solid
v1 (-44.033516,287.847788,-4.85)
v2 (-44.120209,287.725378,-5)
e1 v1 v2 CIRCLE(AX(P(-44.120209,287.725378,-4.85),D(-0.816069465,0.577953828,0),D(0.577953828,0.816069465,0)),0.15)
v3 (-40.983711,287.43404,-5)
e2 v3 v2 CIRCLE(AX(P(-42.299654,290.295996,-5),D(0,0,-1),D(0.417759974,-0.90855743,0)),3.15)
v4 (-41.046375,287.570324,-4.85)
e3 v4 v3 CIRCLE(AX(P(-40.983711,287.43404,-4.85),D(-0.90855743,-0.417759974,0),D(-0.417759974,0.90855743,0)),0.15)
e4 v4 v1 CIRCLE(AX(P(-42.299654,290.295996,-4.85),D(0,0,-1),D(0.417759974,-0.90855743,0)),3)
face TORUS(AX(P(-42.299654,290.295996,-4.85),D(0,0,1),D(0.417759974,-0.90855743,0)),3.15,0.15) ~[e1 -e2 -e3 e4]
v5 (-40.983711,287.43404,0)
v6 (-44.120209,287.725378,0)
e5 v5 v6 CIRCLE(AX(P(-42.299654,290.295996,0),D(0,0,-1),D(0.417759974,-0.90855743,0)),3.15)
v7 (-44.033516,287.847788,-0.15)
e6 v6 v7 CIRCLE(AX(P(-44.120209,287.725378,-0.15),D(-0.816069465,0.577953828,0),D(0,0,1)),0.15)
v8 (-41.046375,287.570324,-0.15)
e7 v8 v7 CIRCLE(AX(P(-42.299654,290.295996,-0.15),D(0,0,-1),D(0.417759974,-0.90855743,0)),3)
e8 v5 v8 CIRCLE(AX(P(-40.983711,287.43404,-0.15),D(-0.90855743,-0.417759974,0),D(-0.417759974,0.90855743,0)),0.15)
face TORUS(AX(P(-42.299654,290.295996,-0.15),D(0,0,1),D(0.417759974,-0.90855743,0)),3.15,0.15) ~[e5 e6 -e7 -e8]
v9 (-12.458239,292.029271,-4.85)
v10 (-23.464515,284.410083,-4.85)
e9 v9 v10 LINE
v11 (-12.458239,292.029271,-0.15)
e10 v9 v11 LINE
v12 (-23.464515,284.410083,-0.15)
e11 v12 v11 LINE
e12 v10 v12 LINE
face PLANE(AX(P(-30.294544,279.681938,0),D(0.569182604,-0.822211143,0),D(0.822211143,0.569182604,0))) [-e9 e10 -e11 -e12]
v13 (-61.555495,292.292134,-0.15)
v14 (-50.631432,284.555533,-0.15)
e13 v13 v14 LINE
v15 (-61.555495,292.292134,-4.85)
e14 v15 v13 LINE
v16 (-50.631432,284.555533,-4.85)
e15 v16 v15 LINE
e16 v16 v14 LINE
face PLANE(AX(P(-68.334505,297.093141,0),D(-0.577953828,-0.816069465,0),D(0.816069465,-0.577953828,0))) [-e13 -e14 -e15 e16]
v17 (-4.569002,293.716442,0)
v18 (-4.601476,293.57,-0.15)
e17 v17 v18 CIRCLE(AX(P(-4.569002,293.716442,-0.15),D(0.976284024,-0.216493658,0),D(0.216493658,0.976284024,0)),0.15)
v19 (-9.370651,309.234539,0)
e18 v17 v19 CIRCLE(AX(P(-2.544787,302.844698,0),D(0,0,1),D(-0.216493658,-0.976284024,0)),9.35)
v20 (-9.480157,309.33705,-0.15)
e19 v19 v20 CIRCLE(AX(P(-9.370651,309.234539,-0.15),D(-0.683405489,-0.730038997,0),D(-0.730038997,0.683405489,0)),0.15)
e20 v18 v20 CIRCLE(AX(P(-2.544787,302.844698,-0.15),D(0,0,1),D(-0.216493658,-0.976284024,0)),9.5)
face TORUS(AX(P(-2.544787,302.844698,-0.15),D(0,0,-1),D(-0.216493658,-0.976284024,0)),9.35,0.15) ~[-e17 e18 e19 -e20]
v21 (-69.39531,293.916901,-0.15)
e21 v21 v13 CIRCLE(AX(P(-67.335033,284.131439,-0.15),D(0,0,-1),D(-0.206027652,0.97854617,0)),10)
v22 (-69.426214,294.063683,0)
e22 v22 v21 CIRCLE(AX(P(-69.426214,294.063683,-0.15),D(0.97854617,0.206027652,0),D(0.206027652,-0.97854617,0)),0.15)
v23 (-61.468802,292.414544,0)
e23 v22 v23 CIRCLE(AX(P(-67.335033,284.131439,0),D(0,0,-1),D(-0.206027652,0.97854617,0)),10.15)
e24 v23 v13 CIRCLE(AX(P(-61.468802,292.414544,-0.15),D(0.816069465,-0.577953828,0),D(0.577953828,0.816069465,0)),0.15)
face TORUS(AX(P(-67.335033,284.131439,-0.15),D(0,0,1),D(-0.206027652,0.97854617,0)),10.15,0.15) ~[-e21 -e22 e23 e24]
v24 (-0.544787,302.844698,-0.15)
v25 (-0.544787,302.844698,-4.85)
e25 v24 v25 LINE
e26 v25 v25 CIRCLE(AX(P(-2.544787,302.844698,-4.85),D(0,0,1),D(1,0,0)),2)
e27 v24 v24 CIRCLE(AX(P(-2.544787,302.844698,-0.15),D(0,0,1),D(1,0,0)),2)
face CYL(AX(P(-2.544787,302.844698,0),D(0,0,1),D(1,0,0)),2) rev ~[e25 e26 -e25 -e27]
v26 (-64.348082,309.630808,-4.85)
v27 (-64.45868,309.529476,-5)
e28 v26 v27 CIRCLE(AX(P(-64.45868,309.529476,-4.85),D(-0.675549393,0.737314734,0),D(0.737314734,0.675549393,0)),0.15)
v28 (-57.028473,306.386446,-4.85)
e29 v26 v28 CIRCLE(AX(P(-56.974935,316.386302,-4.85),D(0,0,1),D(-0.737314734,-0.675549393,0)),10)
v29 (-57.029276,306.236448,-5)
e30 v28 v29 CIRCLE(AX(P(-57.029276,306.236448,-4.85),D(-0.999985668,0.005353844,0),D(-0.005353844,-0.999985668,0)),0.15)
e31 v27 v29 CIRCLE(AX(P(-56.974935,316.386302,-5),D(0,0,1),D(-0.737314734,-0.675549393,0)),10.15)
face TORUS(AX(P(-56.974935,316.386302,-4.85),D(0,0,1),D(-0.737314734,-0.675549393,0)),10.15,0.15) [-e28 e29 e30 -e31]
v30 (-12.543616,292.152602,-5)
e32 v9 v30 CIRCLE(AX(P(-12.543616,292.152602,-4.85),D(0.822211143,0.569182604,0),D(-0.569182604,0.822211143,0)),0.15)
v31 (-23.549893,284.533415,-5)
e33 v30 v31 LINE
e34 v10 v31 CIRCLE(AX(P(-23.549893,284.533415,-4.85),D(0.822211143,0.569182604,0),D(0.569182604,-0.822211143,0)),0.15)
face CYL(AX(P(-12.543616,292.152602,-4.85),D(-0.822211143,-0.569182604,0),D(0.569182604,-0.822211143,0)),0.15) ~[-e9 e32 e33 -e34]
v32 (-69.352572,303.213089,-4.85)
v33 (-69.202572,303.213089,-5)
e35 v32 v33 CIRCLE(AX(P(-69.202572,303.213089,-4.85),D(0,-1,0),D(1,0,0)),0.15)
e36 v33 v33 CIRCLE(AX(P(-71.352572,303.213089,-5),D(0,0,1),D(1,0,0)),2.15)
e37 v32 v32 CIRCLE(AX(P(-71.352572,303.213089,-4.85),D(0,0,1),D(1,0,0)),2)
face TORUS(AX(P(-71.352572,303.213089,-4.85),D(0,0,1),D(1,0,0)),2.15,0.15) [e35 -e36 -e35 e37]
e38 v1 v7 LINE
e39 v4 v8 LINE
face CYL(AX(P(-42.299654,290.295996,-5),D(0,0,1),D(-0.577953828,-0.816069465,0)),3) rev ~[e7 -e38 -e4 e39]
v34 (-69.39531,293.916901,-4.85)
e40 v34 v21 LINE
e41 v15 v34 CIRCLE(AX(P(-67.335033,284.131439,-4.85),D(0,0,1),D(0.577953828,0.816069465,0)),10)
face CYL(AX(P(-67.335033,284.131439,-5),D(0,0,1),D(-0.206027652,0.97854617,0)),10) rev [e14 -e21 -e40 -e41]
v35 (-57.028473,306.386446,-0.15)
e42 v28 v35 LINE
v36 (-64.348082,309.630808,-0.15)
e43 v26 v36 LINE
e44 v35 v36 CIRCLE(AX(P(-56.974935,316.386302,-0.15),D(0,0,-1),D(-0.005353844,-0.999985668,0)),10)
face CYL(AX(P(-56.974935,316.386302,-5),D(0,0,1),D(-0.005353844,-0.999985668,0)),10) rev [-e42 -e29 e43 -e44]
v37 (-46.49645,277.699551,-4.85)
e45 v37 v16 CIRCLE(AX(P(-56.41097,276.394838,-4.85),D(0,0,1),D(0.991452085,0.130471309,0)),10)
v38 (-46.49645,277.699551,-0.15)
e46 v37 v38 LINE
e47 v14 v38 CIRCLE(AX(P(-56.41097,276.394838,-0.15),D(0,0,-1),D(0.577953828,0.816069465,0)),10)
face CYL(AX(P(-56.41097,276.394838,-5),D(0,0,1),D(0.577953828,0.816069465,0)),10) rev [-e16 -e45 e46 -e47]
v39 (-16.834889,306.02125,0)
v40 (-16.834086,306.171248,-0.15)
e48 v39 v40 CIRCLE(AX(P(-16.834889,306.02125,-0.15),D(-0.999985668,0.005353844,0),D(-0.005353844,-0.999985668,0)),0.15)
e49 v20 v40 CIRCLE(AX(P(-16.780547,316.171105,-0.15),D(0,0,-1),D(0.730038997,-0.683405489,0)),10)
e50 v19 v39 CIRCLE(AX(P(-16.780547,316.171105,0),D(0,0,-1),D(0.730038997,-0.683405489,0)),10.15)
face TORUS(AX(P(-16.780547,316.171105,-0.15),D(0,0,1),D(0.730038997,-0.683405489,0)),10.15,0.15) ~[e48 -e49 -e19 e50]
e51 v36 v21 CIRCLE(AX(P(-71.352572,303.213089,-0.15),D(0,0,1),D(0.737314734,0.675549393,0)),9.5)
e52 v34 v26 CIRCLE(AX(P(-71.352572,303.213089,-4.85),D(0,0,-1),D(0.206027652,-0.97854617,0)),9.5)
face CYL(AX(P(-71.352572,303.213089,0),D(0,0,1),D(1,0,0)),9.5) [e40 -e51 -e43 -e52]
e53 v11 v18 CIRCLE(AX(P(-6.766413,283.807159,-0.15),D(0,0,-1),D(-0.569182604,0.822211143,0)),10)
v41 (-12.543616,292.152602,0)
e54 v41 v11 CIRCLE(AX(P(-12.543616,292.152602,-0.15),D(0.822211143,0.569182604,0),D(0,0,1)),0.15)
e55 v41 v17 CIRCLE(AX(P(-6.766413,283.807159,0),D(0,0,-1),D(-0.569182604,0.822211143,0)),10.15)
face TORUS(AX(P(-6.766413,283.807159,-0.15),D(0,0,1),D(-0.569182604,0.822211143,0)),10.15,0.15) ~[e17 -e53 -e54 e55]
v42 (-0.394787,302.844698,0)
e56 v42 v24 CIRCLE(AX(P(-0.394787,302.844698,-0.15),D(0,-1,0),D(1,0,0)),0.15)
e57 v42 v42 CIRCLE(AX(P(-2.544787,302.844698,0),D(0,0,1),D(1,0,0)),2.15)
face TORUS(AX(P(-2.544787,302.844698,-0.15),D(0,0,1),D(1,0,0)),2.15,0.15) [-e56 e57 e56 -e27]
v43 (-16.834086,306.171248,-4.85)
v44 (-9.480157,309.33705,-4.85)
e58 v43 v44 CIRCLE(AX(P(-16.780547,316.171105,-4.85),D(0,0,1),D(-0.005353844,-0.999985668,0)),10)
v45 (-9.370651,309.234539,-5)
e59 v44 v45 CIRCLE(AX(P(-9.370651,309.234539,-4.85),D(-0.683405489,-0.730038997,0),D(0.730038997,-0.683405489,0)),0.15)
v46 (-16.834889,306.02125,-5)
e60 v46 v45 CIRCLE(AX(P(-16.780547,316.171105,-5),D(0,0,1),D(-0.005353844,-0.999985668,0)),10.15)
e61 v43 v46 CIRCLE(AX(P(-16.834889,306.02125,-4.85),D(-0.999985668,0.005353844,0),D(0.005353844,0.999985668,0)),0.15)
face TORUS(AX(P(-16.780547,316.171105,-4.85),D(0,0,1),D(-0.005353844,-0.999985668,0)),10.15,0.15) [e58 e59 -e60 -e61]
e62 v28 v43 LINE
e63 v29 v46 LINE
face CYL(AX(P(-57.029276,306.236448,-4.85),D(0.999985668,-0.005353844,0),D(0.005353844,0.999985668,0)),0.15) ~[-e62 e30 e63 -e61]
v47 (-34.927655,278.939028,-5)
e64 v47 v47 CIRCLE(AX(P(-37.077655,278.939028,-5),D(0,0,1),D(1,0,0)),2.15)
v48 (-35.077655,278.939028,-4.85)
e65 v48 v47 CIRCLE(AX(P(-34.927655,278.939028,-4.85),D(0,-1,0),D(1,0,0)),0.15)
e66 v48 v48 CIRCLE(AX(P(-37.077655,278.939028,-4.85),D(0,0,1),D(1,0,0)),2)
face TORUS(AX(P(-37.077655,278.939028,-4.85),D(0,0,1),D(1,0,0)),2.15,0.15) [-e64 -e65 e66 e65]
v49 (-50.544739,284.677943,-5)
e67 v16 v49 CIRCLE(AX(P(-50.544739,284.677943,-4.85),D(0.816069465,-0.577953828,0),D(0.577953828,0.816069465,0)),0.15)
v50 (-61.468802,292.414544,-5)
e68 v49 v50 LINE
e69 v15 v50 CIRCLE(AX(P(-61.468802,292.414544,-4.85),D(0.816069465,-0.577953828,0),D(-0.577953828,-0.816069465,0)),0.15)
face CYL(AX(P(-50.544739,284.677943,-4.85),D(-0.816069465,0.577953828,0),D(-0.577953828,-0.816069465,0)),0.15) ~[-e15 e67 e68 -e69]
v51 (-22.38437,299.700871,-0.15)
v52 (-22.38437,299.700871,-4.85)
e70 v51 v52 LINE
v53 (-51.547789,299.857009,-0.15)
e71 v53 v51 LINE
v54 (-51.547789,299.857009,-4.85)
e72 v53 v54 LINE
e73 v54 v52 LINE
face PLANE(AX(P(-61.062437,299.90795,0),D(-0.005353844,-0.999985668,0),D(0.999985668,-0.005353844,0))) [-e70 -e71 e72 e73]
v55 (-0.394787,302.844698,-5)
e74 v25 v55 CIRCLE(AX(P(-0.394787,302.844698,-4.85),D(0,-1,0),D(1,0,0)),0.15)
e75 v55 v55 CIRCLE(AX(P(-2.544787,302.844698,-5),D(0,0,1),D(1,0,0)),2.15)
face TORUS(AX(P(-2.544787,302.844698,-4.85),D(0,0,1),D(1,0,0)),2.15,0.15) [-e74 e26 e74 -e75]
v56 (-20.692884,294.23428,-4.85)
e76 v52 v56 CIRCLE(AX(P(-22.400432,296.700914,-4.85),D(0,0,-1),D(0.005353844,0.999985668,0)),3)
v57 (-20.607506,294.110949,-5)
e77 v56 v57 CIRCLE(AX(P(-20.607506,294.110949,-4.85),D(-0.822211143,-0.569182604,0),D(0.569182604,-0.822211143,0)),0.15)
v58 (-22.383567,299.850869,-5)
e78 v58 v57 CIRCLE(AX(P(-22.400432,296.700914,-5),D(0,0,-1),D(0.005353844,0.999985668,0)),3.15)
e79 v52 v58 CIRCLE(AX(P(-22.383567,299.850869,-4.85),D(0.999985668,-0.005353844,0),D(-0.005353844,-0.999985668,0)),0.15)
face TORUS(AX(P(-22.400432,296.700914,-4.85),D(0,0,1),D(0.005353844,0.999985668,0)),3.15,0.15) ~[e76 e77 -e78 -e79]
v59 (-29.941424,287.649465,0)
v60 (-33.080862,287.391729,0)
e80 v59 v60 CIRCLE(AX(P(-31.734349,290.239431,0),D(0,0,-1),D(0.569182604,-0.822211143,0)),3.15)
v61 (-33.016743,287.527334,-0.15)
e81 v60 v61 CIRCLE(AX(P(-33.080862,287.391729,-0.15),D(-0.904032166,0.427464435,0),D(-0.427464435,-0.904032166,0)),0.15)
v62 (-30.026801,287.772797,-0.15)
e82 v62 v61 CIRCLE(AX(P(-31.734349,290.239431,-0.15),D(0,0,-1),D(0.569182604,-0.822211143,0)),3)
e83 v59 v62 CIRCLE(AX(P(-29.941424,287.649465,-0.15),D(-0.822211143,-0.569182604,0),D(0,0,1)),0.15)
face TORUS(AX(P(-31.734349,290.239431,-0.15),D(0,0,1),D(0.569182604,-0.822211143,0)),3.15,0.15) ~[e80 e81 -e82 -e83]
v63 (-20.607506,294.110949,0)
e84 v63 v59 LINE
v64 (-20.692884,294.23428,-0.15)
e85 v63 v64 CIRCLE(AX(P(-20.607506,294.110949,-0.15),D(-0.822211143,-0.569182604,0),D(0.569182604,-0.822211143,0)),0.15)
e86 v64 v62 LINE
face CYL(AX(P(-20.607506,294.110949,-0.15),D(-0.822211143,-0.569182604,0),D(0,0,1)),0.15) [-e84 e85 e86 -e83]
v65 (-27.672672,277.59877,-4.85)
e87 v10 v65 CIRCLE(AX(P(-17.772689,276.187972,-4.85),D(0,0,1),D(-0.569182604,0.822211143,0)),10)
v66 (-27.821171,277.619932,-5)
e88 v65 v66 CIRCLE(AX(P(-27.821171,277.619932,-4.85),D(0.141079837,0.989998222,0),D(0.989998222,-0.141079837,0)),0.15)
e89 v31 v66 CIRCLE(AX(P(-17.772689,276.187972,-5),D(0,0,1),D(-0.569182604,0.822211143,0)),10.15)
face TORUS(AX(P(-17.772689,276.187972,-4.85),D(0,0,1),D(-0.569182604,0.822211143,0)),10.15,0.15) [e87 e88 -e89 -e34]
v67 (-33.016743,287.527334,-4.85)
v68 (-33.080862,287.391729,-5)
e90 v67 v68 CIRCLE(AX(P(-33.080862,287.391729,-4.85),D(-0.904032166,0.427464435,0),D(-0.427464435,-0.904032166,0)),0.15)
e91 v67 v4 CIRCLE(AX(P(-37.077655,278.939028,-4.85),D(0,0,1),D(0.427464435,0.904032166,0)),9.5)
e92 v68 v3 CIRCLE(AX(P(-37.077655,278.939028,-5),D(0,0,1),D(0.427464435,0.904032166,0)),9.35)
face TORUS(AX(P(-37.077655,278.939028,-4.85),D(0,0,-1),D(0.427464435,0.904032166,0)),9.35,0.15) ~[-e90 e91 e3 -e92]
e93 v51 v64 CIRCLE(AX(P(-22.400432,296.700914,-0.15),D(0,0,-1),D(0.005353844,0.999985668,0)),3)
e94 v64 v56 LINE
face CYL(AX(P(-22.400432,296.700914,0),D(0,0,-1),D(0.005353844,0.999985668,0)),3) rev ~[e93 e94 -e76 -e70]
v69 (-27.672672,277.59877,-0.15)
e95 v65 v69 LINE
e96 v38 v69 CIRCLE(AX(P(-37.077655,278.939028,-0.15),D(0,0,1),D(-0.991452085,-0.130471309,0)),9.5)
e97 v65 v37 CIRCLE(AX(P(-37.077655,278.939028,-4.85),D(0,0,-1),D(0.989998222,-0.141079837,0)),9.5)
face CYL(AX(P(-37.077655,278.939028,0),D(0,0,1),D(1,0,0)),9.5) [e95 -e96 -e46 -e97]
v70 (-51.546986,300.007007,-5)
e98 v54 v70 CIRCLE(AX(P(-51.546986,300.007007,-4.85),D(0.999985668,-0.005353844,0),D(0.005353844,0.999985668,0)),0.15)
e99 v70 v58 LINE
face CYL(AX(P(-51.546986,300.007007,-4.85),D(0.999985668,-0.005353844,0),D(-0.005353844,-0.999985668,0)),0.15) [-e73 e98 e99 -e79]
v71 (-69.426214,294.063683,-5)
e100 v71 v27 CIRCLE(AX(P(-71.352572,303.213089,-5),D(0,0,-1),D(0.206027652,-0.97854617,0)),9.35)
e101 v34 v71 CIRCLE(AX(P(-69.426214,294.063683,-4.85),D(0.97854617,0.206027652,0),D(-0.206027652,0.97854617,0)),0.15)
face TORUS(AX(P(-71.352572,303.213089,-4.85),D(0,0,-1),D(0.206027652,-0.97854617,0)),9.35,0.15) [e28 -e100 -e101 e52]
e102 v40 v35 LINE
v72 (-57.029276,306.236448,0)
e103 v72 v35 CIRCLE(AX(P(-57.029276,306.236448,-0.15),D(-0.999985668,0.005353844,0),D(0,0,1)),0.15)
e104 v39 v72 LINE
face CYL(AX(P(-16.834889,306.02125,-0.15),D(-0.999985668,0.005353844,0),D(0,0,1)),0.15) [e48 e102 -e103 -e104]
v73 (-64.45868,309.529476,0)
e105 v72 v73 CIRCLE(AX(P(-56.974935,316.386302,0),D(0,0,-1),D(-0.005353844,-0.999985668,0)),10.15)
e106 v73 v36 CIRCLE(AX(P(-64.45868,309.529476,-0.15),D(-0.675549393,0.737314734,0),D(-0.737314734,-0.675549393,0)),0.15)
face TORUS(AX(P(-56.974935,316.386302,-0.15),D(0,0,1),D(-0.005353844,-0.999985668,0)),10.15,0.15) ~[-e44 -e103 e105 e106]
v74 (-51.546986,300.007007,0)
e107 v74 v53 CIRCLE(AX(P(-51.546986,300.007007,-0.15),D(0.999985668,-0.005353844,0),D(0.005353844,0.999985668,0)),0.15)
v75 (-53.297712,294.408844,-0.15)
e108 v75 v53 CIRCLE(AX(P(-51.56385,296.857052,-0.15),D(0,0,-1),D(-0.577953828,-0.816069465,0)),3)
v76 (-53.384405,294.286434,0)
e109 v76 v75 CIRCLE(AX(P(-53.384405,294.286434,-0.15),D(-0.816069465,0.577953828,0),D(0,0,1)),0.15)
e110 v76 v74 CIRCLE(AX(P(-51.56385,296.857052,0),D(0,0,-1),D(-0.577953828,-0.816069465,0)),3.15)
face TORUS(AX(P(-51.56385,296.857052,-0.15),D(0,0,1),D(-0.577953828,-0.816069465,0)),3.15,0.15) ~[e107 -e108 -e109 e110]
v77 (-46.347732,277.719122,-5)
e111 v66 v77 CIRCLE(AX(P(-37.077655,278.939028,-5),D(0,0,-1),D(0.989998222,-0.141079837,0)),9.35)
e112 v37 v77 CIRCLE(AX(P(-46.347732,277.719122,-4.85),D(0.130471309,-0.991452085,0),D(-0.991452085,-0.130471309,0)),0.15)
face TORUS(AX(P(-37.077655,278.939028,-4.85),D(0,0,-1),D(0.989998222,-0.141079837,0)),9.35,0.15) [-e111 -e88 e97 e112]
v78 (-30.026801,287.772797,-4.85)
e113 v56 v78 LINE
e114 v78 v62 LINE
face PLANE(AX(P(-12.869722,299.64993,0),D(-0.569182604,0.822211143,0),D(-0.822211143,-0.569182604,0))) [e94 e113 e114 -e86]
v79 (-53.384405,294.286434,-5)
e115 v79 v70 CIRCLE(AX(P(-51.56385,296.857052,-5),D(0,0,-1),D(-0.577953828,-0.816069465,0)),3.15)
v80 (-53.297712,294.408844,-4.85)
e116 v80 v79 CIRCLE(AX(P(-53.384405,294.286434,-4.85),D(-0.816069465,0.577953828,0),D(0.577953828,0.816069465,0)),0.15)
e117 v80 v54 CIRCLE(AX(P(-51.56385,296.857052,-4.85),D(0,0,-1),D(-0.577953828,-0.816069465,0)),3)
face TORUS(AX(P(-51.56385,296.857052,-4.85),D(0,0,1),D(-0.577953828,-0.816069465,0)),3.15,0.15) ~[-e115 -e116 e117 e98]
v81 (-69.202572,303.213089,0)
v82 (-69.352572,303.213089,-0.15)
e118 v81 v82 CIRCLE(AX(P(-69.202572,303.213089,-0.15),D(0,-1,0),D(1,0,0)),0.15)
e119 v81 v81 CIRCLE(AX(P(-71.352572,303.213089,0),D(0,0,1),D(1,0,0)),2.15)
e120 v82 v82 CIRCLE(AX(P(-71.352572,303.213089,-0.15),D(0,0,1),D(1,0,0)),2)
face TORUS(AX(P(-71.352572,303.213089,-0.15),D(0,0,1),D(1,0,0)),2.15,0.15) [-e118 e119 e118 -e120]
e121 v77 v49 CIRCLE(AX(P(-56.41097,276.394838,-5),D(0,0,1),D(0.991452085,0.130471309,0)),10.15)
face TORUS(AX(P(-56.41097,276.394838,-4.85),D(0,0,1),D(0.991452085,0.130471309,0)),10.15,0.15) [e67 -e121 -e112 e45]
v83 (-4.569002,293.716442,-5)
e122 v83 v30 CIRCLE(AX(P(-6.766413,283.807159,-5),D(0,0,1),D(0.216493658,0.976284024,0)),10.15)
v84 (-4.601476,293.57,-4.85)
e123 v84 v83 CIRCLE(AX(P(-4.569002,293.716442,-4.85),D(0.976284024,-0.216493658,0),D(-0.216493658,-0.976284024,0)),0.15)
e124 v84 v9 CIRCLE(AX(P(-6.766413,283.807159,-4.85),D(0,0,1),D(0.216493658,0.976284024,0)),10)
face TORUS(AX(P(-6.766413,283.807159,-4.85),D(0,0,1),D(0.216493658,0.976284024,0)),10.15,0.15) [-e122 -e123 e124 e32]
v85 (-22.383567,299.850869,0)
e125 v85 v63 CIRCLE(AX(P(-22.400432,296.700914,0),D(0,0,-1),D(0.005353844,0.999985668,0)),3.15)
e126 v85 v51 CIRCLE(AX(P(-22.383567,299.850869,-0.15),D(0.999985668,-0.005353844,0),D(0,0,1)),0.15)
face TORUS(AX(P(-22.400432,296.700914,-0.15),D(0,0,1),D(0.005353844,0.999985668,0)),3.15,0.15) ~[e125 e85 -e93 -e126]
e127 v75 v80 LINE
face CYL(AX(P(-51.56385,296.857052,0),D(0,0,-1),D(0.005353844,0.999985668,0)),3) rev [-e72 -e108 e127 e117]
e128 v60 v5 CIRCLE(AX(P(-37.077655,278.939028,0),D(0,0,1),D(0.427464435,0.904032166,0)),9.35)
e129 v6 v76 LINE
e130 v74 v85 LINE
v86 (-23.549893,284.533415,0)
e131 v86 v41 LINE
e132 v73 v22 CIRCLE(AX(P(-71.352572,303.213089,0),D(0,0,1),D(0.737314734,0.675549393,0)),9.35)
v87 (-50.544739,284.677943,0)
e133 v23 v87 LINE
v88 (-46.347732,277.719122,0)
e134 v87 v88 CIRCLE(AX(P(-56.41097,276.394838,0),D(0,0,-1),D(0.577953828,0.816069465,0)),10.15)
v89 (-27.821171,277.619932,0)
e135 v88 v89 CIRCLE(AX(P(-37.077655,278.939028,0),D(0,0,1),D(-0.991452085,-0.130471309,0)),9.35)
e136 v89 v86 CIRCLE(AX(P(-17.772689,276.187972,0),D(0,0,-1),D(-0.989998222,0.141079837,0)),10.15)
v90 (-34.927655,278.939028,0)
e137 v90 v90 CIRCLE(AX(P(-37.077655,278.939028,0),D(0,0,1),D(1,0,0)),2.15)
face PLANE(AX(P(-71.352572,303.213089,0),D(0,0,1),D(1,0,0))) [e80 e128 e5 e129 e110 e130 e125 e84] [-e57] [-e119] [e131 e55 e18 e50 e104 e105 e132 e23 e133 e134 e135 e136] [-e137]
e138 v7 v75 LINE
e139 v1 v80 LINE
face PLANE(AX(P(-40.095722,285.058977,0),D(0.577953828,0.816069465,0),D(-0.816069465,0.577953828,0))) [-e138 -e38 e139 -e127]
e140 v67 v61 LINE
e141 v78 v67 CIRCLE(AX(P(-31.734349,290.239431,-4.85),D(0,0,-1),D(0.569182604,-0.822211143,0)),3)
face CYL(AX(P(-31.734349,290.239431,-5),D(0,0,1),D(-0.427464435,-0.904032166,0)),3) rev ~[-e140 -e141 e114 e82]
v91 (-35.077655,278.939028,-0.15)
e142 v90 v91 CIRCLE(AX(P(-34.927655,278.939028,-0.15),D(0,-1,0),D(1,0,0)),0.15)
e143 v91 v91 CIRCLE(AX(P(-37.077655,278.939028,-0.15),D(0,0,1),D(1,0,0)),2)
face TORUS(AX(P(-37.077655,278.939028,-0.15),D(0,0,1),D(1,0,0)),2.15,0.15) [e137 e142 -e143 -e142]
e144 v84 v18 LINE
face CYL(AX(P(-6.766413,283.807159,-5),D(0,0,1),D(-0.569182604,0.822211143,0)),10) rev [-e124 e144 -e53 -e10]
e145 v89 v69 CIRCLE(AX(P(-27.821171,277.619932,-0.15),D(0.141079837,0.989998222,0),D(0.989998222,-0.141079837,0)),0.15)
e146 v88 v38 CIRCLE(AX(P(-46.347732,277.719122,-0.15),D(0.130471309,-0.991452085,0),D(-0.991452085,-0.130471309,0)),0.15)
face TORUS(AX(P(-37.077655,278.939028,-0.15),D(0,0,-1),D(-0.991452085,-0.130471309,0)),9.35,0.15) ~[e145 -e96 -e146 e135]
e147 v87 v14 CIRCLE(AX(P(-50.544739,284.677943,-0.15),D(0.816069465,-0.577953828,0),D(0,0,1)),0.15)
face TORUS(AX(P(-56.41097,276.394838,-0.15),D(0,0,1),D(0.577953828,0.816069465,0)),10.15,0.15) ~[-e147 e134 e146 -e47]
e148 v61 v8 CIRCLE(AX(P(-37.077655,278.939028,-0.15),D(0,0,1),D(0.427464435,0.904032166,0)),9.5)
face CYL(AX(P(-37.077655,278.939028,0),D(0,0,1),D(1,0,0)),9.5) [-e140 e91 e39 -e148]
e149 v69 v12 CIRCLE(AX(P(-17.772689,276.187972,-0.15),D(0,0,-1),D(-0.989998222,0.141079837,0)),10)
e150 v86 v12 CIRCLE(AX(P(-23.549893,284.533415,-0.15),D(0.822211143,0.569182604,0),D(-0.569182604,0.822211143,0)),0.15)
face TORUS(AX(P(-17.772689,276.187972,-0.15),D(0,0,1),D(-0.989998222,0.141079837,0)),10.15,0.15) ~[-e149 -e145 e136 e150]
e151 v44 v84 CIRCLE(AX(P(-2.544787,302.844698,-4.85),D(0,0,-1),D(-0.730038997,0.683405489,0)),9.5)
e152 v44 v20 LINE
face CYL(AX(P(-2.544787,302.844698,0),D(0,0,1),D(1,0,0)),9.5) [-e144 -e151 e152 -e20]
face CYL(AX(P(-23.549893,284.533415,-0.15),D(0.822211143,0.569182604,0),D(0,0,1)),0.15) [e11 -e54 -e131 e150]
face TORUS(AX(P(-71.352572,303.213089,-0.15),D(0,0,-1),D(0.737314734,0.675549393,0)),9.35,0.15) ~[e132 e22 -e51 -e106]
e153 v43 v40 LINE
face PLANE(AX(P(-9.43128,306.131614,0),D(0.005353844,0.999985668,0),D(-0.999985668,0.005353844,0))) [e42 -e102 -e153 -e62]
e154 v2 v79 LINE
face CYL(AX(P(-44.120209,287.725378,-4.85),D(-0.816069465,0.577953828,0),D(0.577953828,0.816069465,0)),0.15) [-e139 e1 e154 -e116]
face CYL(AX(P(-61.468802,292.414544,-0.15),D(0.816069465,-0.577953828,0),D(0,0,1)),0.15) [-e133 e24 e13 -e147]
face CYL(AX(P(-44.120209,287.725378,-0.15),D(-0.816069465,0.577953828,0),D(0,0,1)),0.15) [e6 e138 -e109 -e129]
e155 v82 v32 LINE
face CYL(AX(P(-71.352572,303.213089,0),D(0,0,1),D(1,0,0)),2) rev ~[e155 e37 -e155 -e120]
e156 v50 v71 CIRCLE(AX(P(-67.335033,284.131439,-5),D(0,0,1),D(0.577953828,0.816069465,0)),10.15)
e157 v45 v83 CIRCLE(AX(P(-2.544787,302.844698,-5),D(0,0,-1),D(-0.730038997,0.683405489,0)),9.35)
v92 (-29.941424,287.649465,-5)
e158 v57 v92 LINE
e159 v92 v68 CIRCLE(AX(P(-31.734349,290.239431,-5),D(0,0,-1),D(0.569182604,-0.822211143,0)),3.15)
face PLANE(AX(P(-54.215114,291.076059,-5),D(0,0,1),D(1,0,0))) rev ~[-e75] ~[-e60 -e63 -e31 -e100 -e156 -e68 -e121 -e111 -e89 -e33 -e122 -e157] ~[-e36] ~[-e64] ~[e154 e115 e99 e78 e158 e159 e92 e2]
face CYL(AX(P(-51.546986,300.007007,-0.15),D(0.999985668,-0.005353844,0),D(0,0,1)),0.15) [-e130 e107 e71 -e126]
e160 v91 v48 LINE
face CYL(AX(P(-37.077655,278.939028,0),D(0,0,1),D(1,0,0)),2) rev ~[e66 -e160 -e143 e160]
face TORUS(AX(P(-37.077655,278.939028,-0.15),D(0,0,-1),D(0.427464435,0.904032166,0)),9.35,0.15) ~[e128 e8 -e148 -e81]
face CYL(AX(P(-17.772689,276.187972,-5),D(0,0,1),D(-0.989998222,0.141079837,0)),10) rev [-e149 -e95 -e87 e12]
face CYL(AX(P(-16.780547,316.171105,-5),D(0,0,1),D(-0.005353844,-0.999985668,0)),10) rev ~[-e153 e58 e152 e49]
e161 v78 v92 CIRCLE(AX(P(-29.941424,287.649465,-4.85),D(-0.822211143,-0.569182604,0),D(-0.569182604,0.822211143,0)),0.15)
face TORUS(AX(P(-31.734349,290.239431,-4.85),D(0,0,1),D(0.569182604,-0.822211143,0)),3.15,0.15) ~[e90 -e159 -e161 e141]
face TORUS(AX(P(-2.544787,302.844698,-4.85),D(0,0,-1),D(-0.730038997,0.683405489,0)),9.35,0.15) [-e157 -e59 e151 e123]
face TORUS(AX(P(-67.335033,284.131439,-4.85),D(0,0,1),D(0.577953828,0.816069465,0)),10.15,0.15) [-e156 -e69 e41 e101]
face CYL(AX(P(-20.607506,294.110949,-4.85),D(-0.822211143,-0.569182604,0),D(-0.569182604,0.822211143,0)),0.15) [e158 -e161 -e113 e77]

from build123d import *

# Parameters (mm, degrees)
SKETCH1_R             = 9.5
SKETCH1_R_2           = 2
BOSS_EXTRUDE1_DEPTH   = 5
BOSS_EXTRUDE1_2_DEPTH = 5
BOSS_EXTRUDE1_3_DEPTH = 5
EXTRUDE_THIN1_DEPTH   = 5
FILLET1_R             = 3
FILLET2_R             = 10
FILLET3_R             = 0.15


with BuildPart() as part:
    # Sketch1 → Boss-Extrude1 (new body)
    with BuildSketch(Plane.XY):
        with Locations((-71.352572296, 303.213089234)):
            Circle(SKETCH1_R)
        with Locations((-71.352572296, 303.213089234)):
            Circle(SKETCH1_R_2, mode=Mode.SUBTRACT)
    extrude(amount=-BOSS_EXTRUDE1_DEPTH)



with BuildPart() as body_2:
    # Sketch1 → Boss-Extrude1 2 (new body)
    with BuildSketch(Plane.XY):
        with Locations((-37.077654746, 278.93902845)):
            Circle(SKETCH1_R)
        with Locations((-37.077654746, 278.93902845)):
            Circle(SKETCH1_R_2, mode=Mode.SUBTRACT)
    extrude(amount=-BOSS_EXTRUDE1_2_DEPTH)


with BuildPart() as body_3:
    # Sketch1 → Boss-Extrude1 3 (new body)
    with BuildSketch(Plane.XY):
        with Locations((-2.544786738, 302.844697802)):
            Circle(SKETCH1_R)
        with Locations((-2.544786738, 302.844697802)):
            Circle(SKETCH1_R_2, mode=Mode.SUBTRACT)
    extrude(amount=-BOSS_EXTRUDE1_3_DEPTH)


with BuildPart() as part_1:
    add(part.part)

    add(body_2.part)  # Extrude-Thin1 merges body 2

    add(body_3.part)  # Extrude-Thin1 merges body 3
    # Sketch2 → Extrude-Thin1 (add)
    with BuildSketch(Plane.XY):
        Polygon((-68.334505444, 297.093140502), (-43.85242148, 279.754525657), (-40.095721597, 285.058977182), (-64.577805561, 302.397592028), align=None)
        Polygon((-64.46607951, 299.926172918), (-9.46607951, 299.631707276), (-9.431279524, 306.131614118), (-64.431279524, 306.42607976), align=None)
        Polygon((-9.327897058, 302.101788395), (-33.994231349, 285.026310287), (-30.294544426, 279.681937857), (-5.628210134, 296.757415965), align=None)
    extrude(amount=-EXTRUDE_THIN1_DEPTH)

    # Fillet1
    fillet1_edges = [part_1.edges().sort_by_distance(p)[0] for p in [
        (-42.484181905, 286.750524087, -2.5),
        (-61.06243691, 299.907950085, -2.5),
        (-12.86972211, 299.649930108, -2.5),
        (-31.587795668, 286.692185698, -2.5),
    ]]
    fillet(fillet1_edges, radius=FILLET1_R)

    # Fillet2
    fillet2_edges = [part_1.edges().sort_by_distance(p)[0] for p in [
        (-65.946045137, 295.401593597, -2.5),
        (-46.240881788, 281.446072561, -2.5),
        (-62.408514705, 306.415250038, -2.5),
        (-11.454044342, 306.142443841, -2.5),
        (-8.034645815, 295.091540554, -2.5),
        (-27.888108745, 281.347813269, -2.5),
    ]]
    fillet(fillet2_edges, radius=FILLET2_R)

    # Fillet3
    fillet3_edges = [part_1.edges().sort_by_distance(p)[0] for p in [
        (-48.665613897, 291.128315972, -5),
        (-48.665613897, 291.128315972, 0),
        (-36.96607951, 299.778940097, 0),
        (-36.96607951, 299.778940097, -5),
        (-25.359842683, 291.003538719, -5),
        (-25.359842683, 291.003538719, 0),
        (-37.026793227, 288.438892297, -5),
        (-37.026793227, 288.438892297, 0),
        (-54.420130451, 297.774475034, 0),
        (-54.420130451, 297.774475034, -5),
        (-19.534492041, 297.58770009, -5),
        (-19.534492041, 297.58770009, 0),
        (-31.488886236, 287.249489404, 0),
        (-31.488886236, 287.249489404, -5),
        (-42.577118318, 287.30885492, -5),
        (-42.577118318, 287.30885492, 0),
        (-37.128516264, 269.439164604, -5),
        (-37.128516264, 269.439164604, 0),
        (-56.093463462, 288.423833079, 0),
        (-56.093463462, 288.423833079, -5),
        (-80.397459123, 306.118260879, 0),
        (-80.397459123, 306.118260879, -5),
        (-17.96137728, 288.219676911, -5),
        (-17.96137728, 288.219676911, 0),
        (6.530688796, 305.652854463, 0),
        (6.530688796, 305.652854463, -5),
        (-36.931279524, 306.278846939, 0),
        (-36.931279524, 306.278846939, -5),
        (-47.847852179, 281.559429504, -5),
        (-47.847852179, 281.559429504, 0),
        (-65.305699691, 293.923364473, -5),
        (-65.305699691, 293.923364473, 0),
        (-26.280016704, 281.443957022, 0),
        (-26.280016704, 281.443957022, -5),
        (-8.690782741, 293.620252694, -5),
        (-8.690782741, 293.620252694, 0),
        (-12.826462016, 306.986051191, -5),
        (-12.826462016, 306.986051191, 0),
        (-61.027142753, 307.244113816, -5),
        (-61.027142753, 307.244113816, 0),
        (-39.077654746, 278.93902845, -5),
        (-39.077654746, 278.93902845, 0),
        (-73.352572296, 303.213089234, -5),
        (-73.352572296, 303.213089234, 0),
        (-4.544786738, 302.844697802, -5),
        (-4.544786738, 302.844697802, 0),
    ]]
    fillet(fillet3_edges, radius=FILLET3_R)


solid = part_1.part
